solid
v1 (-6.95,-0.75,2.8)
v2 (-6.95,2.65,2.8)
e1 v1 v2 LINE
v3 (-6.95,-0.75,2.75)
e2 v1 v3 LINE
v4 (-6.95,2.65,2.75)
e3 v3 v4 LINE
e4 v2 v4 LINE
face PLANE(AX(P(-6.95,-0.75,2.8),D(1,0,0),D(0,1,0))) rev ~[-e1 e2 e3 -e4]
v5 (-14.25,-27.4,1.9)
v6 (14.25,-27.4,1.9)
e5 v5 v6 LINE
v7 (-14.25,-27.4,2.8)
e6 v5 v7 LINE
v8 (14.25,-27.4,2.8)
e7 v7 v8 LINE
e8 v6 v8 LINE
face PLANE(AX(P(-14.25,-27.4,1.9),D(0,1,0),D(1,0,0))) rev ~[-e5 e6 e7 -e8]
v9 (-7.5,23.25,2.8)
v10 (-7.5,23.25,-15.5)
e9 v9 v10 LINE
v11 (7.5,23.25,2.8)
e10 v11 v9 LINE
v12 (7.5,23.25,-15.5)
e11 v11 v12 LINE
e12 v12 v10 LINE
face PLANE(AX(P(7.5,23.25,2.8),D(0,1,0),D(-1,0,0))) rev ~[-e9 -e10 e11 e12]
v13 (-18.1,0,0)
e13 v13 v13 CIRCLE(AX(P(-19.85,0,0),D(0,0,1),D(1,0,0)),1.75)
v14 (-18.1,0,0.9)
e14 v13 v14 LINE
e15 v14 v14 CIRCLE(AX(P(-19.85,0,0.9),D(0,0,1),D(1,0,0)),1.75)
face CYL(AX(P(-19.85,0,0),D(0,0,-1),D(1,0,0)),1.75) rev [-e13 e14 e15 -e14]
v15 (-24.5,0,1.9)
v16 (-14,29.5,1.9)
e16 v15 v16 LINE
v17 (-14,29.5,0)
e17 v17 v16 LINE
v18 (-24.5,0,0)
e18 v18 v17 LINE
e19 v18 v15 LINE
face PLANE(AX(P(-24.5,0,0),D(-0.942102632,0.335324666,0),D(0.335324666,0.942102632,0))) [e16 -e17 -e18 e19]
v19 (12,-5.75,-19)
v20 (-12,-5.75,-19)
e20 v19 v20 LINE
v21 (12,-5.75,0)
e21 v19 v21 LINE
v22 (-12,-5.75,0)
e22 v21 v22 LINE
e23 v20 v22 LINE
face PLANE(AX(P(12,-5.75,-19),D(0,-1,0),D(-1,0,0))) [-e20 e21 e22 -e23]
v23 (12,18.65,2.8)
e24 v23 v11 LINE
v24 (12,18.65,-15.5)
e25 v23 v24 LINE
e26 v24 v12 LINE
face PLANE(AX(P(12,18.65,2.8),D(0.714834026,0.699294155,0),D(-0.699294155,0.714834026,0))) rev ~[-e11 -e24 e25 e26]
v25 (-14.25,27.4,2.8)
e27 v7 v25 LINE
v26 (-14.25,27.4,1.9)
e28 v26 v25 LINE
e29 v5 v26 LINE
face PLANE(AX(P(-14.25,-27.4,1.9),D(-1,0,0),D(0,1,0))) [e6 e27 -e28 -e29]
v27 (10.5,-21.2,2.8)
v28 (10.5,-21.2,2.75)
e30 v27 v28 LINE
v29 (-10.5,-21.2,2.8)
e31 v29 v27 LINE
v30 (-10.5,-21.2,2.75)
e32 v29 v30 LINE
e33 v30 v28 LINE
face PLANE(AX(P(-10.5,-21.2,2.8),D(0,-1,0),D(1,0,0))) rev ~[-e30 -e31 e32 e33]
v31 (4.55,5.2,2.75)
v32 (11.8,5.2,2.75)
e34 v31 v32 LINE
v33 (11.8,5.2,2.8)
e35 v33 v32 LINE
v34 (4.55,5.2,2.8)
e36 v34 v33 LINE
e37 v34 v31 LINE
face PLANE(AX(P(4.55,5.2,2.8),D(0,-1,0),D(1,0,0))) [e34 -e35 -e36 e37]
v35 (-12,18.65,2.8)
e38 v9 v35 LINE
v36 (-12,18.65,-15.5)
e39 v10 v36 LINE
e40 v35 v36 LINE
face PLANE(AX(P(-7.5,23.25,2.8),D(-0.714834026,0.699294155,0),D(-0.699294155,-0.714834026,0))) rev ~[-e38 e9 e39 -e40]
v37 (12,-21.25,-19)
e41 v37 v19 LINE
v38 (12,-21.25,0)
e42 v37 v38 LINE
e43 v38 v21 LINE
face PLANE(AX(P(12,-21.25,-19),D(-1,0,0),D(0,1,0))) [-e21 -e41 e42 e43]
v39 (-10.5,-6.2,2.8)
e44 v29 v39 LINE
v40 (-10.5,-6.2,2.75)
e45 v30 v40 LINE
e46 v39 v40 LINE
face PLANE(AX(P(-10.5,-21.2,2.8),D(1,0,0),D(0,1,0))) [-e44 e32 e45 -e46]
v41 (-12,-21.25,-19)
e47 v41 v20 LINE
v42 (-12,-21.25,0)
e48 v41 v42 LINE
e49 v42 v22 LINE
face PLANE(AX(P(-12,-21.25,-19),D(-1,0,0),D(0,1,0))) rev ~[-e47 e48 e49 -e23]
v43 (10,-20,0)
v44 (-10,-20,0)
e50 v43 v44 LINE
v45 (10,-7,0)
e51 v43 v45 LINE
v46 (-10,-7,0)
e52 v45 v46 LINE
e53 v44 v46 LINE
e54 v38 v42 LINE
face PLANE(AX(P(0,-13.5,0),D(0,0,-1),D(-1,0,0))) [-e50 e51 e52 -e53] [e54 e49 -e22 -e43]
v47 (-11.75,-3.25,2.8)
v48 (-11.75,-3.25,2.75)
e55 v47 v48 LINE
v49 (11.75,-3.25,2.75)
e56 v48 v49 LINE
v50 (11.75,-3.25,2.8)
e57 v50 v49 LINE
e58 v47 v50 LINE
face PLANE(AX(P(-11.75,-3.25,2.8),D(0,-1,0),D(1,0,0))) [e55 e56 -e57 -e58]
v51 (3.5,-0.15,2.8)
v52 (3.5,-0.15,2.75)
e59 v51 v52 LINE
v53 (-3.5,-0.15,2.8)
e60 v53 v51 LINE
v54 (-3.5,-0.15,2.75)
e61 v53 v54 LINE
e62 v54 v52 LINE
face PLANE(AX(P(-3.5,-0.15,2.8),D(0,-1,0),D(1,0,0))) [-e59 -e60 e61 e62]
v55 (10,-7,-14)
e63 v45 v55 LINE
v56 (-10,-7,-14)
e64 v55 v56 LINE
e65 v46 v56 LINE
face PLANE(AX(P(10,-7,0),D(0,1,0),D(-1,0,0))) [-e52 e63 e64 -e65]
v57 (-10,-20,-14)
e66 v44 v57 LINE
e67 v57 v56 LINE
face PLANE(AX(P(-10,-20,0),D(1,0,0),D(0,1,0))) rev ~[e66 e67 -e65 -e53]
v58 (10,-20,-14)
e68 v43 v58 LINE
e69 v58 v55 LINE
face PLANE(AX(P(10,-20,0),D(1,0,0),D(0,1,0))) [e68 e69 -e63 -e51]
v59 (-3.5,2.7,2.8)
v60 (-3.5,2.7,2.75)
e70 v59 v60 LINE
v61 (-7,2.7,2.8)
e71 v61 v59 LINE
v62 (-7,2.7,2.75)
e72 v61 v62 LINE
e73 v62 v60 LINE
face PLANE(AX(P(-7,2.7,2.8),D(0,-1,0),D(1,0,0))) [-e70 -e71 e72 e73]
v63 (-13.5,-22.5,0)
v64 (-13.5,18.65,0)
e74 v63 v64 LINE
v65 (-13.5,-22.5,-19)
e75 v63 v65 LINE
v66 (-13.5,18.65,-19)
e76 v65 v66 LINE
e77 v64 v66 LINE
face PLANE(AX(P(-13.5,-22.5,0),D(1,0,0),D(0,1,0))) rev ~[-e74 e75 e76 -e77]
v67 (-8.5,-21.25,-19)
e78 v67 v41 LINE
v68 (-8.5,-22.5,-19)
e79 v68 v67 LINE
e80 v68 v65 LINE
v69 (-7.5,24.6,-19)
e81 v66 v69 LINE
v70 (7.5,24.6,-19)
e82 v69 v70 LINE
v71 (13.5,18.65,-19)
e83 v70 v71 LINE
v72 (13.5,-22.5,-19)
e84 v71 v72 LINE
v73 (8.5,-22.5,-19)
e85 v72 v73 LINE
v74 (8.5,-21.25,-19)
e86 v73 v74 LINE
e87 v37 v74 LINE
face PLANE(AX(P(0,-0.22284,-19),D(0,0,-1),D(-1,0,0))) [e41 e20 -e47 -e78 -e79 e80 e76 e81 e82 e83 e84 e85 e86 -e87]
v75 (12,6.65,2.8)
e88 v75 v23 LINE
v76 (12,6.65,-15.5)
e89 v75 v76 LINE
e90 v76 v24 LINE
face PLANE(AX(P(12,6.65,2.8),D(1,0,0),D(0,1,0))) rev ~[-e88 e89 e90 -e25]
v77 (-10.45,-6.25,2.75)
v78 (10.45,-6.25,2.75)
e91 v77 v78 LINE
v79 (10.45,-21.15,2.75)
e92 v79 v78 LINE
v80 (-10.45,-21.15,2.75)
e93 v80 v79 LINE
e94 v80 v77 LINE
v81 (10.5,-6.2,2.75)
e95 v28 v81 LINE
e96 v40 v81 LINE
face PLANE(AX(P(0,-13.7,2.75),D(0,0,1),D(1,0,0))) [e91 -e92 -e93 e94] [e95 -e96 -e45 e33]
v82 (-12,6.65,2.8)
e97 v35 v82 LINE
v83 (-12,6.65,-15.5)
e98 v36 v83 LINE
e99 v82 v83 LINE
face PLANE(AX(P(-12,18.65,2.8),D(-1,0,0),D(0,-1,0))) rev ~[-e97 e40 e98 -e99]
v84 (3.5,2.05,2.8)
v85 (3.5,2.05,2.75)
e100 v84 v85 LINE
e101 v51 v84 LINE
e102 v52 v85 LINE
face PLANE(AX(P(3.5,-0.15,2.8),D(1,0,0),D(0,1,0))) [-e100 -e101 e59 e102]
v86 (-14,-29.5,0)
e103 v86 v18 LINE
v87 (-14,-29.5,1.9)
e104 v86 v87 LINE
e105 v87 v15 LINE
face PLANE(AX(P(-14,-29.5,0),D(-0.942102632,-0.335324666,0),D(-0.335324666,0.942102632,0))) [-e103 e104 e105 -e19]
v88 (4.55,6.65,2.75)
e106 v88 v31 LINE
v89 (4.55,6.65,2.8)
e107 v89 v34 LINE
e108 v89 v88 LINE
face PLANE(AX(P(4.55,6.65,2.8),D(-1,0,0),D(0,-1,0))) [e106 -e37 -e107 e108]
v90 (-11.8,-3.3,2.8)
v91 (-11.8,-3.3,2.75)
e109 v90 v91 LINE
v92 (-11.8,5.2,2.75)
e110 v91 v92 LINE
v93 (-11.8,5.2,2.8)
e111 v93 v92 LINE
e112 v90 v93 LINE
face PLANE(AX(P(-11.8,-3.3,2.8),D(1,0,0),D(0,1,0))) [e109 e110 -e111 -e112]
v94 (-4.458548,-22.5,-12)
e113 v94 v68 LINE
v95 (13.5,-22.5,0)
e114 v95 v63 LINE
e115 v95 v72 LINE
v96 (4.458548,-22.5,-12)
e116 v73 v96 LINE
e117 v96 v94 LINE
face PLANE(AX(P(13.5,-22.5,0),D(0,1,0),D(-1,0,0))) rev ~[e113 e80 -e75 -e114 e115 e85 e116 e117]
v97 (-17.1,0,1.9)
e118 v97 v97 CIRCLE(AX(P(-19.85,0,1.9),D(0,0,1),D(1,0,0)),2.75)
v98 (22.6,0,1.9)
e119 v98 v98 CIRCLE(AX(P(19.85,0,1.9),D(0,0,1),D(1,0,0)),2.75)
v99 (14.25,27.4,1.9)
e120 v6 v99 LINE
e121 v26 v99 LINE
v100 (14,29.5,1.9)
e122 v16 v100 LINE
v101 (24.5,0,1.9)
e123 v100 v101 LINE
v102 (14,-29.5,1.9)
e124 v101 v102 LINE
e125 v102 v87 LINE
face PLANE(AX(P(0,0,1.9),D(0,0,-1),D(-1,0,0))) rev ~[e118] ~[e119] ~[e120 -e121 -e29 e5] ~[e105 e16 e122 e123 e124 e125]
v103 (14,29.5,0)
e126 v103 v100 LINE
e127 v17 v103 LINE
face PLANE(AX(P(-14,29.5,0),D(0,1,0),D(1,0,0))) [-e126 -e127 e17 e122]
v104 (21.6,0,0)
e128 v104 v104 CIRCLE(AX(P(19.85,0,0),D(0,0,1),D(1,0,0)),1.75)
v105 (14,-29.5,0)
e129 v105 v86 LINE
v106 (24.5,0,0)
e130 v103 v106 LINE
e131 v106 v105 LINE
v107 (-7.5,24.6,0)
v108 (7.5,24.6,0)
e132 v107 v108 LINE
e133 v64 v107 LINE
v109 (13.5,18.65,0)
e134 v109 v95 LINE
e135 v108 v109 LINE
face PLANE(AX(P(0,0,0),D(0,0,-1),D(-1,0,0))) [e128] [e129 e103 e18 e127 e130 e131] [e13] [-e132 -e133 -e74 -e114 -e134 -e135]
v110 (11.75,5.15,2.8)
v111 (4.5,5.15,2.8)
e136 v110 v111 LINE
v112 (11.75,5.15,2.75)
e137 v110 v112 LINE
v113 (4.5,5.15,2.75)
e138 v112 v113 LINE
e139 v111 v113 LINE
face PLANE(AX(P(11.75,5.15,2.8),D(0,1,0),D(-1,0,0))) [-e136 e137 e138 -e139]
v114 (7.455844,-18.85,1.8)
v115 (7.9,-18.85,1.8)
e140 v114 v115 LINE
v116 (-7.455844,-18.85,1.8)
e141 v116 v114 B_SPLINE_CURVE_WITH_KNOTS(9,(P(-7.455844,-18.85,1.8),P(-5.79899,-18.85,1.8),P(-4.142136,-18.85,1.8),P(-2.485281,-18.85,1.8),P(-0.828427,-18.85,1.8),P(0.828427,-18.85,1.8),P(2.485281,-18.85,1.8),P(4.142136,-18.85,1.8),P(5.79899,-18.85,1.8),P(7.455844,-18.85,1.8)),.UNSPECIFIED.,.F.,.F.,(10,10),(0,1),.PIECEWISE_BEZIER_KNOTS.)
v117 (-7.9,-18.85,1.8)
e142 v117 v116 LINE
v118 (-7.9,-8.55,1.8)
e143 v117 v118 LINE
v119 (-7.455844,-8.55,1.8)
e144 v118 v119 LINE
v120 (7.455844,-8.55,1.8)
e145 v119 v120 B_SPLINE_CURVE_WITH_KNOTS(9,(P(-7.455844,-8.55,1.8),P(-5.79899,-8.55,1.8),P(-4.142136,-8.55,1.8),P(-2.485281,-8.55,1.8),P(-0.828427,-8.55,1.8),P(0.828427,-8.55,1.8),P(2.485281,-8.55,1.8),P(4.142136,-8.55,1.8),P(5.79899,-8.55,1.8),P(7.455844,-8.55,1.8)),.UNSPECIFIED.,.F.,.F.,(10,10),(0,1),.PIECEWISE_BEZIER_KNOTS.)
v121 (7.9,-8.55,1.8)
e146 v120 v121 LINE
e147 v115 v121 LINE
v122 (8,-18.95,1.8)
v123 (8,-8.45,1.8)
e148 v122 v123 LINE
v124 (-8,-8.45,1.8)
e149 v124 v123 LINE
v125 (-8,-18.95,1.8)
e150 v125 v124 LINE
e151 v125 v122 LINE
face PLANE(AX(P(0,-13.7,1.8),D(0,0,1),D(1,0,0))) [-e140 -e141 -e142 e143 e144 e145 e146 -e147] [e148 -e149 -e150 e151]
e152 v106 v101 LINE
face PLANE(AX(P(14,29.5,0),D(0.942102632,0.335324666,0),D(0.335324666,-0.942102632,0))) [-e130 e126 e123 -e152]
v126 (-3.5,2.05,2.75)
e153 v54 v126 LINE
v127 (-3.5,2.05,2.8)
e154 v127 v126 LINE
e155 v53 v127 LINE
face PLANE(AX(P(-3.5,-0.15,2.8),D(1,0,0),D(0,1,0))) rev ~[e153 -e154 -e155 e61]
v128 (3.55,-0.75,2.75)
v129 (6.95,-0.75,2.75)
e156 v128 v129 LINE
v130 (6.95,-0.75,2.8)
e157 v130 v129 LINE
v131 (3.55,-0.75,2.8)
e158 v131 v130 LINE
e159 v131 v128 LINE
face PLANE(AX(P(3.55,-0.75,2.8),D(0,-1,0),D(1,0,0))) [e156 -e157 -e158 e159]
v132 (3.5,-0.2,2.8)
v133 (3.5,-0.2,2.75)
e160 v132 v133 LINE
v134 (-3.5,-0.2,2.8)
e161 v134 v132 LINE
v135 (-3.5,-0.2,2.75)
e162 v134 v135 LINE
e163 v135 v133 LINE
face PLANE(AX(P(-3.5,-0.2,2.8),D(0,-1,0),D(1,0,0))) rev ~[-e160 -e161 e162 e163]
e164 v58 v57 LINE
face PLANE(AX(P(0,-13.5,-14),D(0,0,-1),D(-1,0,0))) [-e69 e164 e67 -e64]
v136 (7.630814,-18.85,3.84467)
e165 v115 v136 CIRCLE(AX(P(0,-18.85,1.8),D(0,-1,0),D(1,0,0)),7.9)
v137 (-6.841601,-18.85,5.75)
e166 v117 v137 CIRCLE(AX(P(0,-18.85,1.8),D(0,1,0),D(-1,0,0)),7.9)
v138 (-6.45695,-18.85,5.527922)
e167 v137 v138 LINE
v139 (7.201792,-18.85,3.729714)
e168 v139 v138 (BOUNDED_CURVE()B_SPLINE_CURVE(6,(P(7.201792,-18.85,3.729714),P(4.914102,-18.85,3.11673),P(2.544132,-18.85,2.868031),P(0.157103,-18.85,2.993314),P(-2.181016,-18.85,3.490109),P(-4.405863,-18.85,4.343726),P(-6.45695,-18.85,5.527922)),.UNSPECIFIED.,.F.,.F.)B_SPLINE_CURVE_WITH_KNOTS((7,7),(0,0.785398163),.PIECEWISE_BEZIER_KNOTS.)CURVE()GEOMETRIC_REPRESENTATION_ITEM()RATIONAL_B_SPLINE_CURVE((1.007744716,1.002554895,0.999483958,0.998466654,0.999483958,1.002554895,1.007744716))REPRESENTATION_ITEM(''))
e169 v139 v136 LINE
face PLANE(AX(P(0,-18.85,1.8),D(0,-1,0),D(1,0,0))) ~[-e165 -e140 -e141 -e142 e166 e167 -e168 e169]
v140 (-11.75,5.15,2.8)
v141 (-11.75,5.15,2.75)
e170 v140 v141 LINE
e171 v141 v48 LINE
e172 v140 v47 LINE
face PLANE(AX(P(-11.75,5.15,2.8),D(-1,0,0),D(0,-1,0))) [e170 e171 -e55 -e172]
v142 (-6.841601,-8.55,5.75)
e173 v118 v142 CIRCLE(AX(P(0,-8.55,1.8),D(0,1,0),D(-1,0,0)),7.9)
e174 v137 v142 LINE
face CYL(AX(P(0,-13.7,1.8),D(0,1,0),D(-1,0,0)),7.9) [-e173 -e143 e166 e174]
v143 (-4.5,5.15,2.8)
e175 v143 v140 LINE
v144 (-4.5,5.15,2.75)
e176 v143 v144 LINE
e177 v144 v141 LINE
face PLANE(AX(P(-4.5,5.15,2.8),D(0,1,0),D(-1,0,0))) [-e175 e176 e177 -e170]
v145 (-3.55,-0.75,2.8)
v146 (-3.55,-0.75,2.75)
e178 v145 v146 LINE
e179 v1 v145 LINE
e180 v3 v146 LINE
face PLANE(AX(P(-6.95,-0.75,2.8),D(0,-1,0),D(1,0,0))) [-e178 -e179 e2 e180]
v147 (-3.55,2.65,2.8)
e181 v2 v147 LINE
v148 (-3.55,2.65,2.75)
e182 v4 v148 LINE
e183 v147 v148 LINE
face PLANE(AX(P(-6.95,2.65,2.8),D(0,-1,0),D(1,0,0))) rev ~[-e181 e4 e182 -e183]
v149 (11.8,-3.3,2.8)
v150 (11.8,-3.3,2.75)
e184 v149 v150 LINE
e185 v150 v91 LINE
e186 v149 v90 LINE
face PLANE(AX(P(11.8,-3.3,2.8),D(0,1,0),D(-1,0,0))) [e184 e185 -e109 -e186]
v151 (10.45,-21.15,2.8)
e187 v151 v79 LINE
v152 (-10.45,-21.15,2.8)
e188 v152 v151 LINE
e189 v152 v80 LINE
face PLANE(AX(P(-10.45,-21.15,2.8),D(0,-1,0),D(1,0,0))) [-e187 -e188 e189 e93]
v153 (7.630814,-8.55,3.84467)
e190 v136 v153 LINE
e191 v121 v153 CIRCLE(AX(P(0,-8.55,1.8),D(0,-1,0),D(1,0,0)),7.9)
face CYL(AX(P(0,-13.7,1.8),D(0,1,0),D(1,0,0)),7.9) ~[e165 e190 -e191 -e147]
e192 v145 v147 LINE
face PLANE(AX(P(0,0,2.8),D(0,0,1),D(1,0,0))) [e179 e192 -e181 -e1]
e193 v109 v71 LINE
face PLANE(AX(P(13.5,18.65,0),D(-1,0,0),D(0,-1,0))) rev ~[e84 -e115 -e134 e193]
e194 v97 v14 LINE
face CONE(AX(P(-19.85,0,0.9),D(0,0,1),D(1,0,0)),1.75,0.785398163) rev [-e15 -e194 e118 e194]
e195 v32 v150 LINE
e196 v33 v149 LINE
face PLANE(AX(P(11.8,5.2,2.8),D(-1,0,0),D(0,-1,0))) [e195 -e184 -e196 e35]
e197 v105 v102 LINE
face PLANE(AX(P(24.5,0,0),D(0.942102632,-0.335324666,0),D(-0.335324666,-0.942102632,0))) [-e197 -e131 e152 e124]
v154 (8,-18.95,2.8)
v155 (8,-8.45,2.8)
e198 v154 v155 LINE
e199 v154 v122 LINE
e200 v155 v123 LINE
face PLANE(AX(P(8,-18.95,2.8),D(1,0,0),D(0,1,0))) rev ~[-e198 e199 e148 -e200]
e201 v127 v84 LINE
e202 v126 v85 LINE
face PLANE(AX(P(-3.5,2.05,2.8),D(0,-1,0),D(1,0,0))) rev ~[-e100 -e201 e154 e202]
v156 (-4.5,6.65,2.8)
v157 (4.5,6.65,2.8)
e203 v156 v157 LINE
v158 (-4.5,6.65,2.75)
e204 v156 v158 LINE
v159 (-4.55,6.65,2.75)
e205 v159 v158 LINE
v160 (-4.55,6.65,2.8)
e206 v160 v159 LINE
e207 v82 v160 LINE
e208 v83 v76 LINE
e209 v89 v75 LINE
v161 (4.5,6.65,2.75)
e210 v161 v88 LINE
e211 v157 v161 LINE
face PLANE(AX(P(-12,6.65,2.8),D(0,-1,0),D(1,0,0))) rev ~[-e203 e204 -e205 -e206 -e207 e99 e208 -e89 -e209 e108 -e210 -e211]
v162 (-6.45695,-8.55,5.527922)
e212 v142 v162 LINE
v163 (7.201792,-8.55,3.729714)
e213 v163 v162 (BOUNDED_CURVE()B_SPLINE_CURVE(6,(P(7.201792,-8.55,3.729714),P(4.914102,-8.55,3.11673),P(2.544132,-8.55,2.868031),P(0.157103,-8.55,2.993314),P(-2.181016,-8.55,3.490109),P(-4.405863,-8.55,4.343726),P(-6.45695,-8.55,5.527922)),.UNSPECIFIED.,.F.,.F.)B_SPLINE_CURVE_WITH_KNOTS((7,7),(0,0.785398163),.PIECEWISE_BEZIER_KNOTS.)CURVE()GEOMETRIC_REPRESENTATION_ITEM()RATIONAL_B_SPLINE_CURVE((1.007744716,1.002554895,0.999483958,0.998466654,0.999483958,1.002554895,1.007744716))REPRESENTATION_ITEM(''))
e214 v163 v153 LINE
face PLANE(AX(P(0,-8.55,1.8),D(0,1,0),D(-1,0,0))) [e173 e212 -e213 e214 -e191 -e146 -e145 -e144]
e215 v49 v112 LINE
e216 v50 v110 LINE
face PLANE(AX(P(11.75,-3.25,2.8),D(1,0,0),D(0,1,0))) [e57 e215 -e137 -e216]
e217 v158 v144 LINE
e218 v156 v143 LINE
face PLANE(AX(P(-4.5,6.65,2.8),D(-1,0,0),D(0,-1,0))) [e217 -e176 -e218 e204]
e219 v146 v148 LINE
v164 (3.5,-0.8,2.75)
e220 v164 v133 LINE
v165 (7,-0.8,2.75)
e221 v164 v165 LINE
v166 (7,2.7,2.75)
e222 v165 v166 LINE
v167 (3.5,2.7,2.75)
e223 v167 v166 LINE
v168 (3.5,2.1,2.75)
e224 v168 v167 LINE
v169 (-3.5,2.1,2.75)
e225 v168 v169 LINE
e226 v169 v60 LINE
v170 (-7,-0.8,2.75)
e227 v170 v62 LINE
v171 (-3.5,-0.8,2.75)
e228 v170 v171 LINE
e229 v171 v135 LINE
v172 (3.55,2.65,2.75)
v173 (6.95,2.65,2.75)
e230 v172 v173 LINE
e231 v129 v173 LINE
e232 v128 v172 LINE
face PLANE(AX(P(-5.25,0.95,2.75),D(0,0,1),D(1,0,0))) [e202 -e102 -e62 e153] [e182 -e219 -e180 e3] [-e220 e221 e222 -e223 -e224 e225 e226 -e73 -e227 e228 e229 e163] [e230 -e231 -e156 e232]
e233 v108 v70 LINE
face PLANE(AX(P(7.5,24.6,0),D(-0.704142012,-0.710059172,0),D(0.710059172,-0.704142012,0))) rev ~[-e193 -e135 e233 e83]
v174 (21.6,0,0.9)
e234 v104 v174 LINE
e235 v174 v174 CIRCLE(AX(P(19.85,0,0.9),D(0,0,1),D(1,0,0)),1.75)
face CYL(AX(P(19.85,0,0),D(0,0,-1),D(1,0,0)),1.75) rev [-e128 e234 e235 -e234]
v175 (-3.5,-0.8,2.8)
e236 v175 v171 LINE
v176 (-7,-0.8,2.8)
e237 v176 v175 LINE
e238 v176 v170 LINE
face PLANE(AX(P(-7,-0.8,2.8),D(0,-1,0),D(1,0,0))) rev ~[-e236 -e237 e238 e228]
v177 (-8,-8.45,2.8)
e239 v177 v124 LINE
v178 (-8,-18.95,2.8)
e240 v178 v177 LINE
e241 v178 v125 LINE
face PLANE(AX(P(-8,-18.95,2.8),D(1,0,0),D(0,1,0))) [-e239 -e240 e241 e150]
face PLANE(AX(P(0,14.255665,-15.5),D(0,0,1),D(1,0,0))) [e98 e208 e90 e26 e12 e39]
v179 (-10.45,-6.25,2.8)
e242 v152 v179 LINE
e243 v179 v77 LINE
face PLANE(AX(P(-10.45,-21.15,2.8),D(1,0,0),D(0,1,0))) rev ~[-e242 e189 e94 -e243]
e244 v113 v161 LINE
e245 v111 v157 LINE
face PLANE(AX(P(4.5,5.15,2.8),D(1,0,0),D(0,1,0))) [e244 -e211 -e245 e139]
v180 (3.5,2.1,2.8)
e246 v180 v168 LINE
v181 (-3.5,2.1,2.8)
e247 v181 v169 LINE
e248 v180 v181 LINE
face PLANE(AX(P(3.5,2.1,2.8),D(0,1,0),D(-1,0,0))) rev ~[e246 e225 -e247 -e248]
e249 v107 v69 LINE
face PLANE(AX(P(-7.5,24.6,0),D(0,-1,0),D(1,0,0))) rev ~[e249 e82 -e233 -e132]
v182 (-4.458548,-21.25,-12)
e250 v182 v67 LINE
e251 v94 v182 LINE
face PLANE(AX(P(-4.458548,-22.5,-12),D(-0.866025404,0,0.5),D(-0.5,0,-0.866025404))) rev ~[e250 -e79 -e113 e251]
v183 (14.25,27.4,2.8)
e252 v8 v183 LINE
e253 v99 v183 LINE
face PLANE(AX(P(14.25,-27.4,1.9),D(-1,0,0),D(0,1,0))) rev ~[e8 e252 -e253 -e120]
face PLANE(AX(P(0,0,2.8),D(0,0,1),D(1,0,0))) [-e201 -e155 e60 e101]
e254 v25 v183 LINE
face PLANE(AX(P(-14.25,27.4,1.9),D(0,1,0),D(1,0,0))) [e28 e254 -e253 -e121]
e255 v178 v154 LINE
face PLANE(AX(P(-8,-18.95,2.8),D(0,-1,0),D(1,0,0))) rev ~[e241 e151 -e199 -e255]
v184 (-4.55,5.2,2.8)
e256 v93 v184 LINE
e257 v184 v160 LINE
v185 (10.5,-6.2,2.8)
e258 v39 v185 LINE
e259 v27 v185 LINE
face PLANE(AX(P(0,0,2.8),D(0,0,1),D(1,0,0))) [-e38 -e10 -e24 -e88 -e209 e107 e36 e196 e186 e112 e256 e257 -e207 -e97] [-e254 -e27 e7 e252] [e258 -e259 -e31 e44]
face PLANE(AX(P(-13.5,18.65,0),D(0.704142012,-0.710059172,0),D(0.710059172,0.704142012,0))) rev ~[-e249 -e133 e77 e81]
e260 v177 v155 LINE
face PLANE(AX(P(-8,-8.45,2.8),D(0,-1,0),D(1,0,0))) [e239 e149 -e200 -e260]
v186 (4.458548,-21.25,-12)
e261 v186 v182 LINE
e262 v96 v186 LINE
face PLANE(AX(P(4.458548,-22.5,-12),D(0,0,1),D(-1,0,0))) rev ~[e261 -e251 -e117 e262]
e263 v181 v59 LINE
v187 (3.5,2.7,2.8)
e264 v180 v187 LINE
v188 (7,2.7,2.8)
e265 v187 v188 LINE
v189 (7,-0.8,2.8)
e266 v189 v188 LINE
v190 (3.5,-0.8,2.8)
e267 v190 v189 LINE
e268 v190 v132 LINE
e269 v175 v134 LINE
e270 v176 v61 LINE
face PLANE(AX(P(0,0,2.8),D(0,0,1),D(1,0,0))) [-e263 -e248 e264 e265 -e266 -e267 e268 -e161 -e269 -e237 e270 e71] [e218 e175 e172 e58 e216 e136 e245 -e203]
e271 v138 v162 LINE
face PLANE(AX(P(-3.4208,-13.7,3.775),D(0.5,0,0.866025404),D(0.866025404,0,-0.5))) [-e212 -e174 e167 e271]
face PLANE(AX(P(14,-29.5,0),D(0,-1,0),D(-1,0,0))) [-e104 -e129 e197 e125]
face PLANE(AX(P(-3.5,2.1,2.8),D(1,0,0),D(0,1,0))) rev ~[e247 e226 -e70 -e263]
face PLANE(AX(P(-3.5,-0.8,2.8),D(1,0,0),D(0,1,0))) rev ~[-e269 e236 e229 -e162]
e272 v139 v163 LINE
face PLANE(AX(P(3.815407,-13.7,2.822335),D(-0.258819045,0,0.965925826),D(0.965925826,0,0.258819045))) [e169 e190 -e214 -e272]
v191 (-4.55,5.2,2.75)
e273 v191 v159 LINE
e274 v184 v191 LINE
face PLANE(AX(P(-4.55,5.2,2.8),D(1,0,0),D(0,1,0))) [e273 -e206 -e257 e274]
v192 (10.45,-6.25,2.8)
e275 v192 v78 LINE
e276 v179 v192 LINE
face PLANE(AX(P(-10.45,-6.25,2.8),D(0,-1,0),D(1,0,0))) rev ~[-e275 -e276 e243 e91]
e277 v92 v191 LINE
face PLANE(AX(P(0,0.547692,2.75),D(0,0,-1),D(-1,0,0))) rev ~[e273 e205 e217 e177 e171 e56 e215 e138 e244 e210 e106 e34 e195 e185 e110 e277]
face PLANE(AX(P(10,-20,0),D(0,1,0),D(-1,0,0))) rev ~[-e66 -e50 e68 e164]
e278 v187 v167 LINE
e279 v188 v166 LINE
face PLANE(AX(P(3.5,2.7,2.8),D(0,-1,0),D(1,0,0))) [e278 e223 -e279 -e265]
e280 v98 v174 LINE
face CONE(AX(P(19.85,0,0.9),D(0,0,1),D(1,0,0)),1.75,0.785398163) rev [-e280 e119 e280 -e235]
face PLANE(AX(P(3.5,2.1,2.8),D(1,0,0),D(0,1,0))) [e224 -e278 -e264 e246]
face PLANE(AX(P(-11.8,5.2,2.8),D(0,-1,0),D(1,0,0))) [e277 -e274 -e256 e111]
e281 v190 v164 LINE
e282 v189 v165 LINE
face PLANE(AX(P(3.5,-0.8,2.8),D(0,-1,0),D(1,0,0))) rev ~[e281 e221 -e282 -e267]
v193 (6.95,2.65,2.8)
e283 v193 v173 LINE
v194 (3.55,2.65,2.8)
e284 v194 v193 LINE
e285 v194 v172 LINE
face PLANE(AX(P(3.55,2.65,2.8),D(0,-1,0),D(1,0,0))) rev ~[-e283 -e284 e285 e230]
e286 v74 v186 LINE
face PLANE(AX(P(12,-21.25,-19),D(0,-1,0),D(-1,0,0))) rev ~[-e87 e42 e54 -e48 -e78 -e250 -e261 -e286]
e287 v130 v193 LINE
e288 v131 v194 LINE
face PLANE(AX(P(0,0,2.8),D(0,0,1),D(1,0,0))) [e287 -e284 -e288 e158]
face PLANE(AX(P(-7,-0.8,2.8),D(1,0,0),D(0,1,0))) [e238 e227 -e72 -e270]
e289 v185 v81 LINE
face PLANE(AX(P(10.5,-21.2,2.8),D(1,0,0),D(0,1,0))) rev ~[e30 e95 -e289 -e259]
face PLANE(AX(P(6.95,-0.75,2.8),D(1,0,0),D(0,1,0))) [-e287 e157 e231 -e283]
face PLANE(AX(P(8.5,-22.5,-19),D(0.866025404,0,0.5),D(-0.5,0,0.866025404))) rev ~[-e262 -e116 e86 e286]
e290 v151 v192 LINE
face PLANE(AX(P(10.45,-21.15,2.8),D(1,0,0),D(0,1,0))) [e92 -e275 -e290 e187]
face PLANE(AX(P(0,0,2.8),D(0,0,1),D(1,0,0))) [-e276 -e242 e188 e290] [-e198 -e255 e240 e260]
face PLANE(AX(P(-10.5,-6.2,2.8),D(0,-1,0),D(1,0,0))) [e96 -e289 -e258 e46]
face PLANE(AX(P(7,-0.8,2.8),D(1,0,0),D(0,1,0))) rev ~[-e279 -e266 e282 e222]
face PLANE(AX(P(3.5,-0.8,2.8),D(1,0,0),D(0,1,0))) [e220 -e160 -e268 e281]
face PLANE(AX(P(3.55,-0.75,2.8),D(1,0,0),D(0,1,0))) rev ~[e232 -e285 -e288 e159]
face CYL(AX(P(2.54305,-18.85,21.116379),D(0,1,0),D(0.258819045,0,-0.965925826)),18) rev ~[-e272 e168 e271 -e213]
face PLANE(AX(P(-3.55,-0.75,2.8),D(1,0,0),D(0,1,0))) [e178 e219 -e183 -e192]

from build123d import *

# Parameters (mm, degrees)
SKETCH1_R           = 1.75
BOSS_EXTRUDE1_DEPTH = 1.9
SKETCH2_W           = 28.5
SKETCH2_H           = 54.8
BOSS_EXTRUDE2_DEPTH = 0.9
CHAMFER1_SIZE       = 1
BOSS_EXTRUDE3_DEPTH = 19
CUT_EXTRUDE1_DEPTH  = 18.3
SKETCH5_W           = 3.5
SKETCH5_H           = 3.5
SKETCH5_W_2         = 3.4
SKETCH5_H_2         = 3.4
SKETCH5_W_3         = 7
SKETCH5_H_3         = 0.05
SKETCH5_W_4         = 21
SKETCH5_H_4         = 15
SKETCH5_W_5         = 20.9
SKETCH5_H_5         = 14.9
CUT_EXTRUDE2_DEPTH  = 0.05
SKETCH6_W           = 24
SKETCH6_H           = 15.5
CUT_EXTRUDE3_DEPTH  = 19
CUT_EXTRUDE4_DEPTH  = 1.25
SKETCH8_W           = 20
SKETCH8_H           = 13
BOSS_EXTRUDE4_DEPTH = 14
SKETCH5_3_W         = 16
SKETCH5_3_H         = 10.5
CUT_EXTRUDE6_DEPTH  = 1
SKETCH10_W          = 7.9
SKETCH10_H          = 10.3
REVOLVE2_ANGLE      = 30
SKETCH10_6_W        = 7.9
SKETCH10_6_H        = 10.3
REVOLVE3_ANGLE      = 15
FILLET1_R           = 18


with BuildPart() as part:
    # Sketch1 → Boss-Extrude1 (new body)
    with BuildSketch(Plane.XY):
        Polygon((-24.5, 0), (-14, 29.5), (14, 29.5), (24.5, 0), (14, -29.5), (-14, -29.5), align=None)
        with Locations((-19.85, 0)):
            Circle(SKETCH1_R, mode=Mode.SUBTRACT)
        with Locations((19.85, 0)):
            Circle(SKETCH1_R, mode=Mode.SUBTRACT)
    extrude(amount=BOSS_EXTRUDE1_DEPTH)

    # Sketch2 → Boss-Extrude2 (add)
    with BuildSketch(Plane.XY.offset(1.9)):
        Rectangle(SKETCH2_W, SKETCH2_H)
    extrude(amount=BOSS_EXTRUDE2_DEPTH)

    # Chamfer1
    chamfer1_edges = [part.edges().sort_by_distance(p)[0] for p in [
        (-21.6, 0, 1.9),
        (18.1, 0, 1.9),
    ]]
    chamfer(chamfer1_edges, length=CHAMFER1_SIZE)

    # Sketch3 → Boss-Extrude3 (add)
    with BuildSketch(Plane(origin=(0, 0, 0), x_dir=(-1, 0, 0), z_dir=(0, 0, -1))):
        Polygon((7.5, 24.6), (-7.5, 24.6), (-13.5, 18.65), (-13.5, -22.5), (13.5, -22.5), (13.5, 18.65), align=None)
    extrude(amount=BOSS_EXTRUDE3_DEPTH)

    # Sketch4 → Cut-Extrude1 (cut)
    with BuildSketch(Plane.XY.offset(2.8)):
        Polygon((7.5, 23.25), (-7.5, 23.25), (-12, 18.65), (-12, 6.65), (12, 6.65), (12, 18.65), align=None)
    extrude(amount=-CUT_EXTRUDE1_DEPTH, mode=Mode.SUBTRACT)

    # Sketch5 → Cut-Extrude2 (cut)
    with BuildSketch(Plane.XY.offset(2.8)):
        with Locations((-5.25, 0.95)):
            Rectangle(SKETCH5_W, SKETCH5_H)
        with Locations((-5.25, 0.95)):
            Rectangle(SKETCH5_W_2, SKETCH5_H_2, mode=Mode.SUBTRACT)
        Polygon((-3.5, 2.05), (0, 2.05), (3.5, 2.05), (3.5, 2.1), (0, 2.1), (-3.5, 2.1), align=None)
        with Locations((0, -0.175)):
            Rectangle(SKETCH5_W_3, SKETCH5_H_3)
        with Locations((5.25, 0.95)):
            Rectangle(SKETCH5_W, SKETCH5_H)
        with Locations((5.25, 0.95)):
            Rectangle(SKETCH5_W_2, SKETCH5_H_2, mode=Mode.SUBTRACT)
        with Locations((0, -13.7)):
            Rectangle(SKETCH5_W_4, SKETCH5_H_4)
        with Locations((0, -13.7)):
            Rectangle(SKETCH5_W_5, SKETCH5_H_5, mode=Mode.SUBTRACT)
        Polygon((-4.5, 6.65), (-4.5, 5.15), (-11.75, 5.15), (-11.75, -3.25), (11.75, -3.25), (11.75, 5.15), (4.5, 5.15), (4.5, 6.65), (4.55, 6.65), (4.55, 5.2), (11.8, 5.2), (11.8, -3.3), (-11.8, -3.3), (-11.8, 5.2), (-4.55, 5.2), (-4.55, 6.65), align=None)
    extrude(amount=-CUT_EXTRUDE2_DEPTH, mode=Mode.SUBTRACT)

    # Sketch6 → Cut-Extrude3 (cut)
    with BuildSketch(Plane(origin=(0, 0, -19), x_dir=(-1, 0, 0), z_dir=(0, 0, -1))):
        with Locations((0, -13.5)):
            Rectangle(SKETCH6_W, SKETCH6_H)
    extrude(amount=-CUT_EXTRUDE3_DEPTH, mode=Mode.SUBTRACT)

    # Sketch7 → Cut-Extrude4 (cut)
    with BuildSketch(Plane.XZ.offset(22.5)):
        Polygon((8.5, -19), (4.458548116, -12), (-4.458548116, -12), (-8.5, -19), align=None)
    extrude(amount=-CUT_EXTRUDE4_DEPTH, mode=Mode.SUBTRACT)

    # Sketch8 → Boss-Extrude4 (add)
    with BuildSketch(Plane(origin=(0, 0, 0), x_dir=(-1, 0, 0), z_dir=(0, 0, -1))):
        with Locations((0, -13.5)):
            Rectangle(SKETCH8_W, SKETCH8_H)
    extrude(amount=BOSS_EXTRUDE4_DEPTH)

    # Sketch5<3> → Cut-Extrude6 (cut)
    with BuildSketch(Plane.XY.offset(2.8)):
        with Locations((0, -13.7)):
            Rectangle(SKETCH5_3_W, SKETCH5_3_H)
    extrude(amount=-CUT_EXTRUDE6_DEPTH, mode=Mode.SUBTRACT)

    # Sketch10 → Revolve2 (revolve)
    with BuildSketch(Plane.XY.offset(1.8)):
        with Locations((-3.95, -13.7)):
            Rectangle(SKETCH10_W, SKETCH10_H)
    revolve(axis=Axis((0, -8.45, 1.8), (0, 1, 0)), revolution_arc=REVOLVE2_ANGLE)

    # Sketch10<6> → Revolve3 (revolve)
    with BuildSketch(Plane.XY.offset(1.8)):
        with Locations((3.95, -13.7)):
            Rectangle(SKETCH10_6_W, SKETCH10_6_H)
    revolve(axis=Axis((0, -8.45, 1.8), (0, -1, 0)), revolution_arc=REVOLVE3_ANGLE)

    # Fillet1
    fillet1_edges = [part.edges().sort_by_distance(p)[0] for p in [
        (0, -13.7, 1.8),
    ]]
    fillet(fillet1_edges, radius=FILLET1_R)


solid = part.part
